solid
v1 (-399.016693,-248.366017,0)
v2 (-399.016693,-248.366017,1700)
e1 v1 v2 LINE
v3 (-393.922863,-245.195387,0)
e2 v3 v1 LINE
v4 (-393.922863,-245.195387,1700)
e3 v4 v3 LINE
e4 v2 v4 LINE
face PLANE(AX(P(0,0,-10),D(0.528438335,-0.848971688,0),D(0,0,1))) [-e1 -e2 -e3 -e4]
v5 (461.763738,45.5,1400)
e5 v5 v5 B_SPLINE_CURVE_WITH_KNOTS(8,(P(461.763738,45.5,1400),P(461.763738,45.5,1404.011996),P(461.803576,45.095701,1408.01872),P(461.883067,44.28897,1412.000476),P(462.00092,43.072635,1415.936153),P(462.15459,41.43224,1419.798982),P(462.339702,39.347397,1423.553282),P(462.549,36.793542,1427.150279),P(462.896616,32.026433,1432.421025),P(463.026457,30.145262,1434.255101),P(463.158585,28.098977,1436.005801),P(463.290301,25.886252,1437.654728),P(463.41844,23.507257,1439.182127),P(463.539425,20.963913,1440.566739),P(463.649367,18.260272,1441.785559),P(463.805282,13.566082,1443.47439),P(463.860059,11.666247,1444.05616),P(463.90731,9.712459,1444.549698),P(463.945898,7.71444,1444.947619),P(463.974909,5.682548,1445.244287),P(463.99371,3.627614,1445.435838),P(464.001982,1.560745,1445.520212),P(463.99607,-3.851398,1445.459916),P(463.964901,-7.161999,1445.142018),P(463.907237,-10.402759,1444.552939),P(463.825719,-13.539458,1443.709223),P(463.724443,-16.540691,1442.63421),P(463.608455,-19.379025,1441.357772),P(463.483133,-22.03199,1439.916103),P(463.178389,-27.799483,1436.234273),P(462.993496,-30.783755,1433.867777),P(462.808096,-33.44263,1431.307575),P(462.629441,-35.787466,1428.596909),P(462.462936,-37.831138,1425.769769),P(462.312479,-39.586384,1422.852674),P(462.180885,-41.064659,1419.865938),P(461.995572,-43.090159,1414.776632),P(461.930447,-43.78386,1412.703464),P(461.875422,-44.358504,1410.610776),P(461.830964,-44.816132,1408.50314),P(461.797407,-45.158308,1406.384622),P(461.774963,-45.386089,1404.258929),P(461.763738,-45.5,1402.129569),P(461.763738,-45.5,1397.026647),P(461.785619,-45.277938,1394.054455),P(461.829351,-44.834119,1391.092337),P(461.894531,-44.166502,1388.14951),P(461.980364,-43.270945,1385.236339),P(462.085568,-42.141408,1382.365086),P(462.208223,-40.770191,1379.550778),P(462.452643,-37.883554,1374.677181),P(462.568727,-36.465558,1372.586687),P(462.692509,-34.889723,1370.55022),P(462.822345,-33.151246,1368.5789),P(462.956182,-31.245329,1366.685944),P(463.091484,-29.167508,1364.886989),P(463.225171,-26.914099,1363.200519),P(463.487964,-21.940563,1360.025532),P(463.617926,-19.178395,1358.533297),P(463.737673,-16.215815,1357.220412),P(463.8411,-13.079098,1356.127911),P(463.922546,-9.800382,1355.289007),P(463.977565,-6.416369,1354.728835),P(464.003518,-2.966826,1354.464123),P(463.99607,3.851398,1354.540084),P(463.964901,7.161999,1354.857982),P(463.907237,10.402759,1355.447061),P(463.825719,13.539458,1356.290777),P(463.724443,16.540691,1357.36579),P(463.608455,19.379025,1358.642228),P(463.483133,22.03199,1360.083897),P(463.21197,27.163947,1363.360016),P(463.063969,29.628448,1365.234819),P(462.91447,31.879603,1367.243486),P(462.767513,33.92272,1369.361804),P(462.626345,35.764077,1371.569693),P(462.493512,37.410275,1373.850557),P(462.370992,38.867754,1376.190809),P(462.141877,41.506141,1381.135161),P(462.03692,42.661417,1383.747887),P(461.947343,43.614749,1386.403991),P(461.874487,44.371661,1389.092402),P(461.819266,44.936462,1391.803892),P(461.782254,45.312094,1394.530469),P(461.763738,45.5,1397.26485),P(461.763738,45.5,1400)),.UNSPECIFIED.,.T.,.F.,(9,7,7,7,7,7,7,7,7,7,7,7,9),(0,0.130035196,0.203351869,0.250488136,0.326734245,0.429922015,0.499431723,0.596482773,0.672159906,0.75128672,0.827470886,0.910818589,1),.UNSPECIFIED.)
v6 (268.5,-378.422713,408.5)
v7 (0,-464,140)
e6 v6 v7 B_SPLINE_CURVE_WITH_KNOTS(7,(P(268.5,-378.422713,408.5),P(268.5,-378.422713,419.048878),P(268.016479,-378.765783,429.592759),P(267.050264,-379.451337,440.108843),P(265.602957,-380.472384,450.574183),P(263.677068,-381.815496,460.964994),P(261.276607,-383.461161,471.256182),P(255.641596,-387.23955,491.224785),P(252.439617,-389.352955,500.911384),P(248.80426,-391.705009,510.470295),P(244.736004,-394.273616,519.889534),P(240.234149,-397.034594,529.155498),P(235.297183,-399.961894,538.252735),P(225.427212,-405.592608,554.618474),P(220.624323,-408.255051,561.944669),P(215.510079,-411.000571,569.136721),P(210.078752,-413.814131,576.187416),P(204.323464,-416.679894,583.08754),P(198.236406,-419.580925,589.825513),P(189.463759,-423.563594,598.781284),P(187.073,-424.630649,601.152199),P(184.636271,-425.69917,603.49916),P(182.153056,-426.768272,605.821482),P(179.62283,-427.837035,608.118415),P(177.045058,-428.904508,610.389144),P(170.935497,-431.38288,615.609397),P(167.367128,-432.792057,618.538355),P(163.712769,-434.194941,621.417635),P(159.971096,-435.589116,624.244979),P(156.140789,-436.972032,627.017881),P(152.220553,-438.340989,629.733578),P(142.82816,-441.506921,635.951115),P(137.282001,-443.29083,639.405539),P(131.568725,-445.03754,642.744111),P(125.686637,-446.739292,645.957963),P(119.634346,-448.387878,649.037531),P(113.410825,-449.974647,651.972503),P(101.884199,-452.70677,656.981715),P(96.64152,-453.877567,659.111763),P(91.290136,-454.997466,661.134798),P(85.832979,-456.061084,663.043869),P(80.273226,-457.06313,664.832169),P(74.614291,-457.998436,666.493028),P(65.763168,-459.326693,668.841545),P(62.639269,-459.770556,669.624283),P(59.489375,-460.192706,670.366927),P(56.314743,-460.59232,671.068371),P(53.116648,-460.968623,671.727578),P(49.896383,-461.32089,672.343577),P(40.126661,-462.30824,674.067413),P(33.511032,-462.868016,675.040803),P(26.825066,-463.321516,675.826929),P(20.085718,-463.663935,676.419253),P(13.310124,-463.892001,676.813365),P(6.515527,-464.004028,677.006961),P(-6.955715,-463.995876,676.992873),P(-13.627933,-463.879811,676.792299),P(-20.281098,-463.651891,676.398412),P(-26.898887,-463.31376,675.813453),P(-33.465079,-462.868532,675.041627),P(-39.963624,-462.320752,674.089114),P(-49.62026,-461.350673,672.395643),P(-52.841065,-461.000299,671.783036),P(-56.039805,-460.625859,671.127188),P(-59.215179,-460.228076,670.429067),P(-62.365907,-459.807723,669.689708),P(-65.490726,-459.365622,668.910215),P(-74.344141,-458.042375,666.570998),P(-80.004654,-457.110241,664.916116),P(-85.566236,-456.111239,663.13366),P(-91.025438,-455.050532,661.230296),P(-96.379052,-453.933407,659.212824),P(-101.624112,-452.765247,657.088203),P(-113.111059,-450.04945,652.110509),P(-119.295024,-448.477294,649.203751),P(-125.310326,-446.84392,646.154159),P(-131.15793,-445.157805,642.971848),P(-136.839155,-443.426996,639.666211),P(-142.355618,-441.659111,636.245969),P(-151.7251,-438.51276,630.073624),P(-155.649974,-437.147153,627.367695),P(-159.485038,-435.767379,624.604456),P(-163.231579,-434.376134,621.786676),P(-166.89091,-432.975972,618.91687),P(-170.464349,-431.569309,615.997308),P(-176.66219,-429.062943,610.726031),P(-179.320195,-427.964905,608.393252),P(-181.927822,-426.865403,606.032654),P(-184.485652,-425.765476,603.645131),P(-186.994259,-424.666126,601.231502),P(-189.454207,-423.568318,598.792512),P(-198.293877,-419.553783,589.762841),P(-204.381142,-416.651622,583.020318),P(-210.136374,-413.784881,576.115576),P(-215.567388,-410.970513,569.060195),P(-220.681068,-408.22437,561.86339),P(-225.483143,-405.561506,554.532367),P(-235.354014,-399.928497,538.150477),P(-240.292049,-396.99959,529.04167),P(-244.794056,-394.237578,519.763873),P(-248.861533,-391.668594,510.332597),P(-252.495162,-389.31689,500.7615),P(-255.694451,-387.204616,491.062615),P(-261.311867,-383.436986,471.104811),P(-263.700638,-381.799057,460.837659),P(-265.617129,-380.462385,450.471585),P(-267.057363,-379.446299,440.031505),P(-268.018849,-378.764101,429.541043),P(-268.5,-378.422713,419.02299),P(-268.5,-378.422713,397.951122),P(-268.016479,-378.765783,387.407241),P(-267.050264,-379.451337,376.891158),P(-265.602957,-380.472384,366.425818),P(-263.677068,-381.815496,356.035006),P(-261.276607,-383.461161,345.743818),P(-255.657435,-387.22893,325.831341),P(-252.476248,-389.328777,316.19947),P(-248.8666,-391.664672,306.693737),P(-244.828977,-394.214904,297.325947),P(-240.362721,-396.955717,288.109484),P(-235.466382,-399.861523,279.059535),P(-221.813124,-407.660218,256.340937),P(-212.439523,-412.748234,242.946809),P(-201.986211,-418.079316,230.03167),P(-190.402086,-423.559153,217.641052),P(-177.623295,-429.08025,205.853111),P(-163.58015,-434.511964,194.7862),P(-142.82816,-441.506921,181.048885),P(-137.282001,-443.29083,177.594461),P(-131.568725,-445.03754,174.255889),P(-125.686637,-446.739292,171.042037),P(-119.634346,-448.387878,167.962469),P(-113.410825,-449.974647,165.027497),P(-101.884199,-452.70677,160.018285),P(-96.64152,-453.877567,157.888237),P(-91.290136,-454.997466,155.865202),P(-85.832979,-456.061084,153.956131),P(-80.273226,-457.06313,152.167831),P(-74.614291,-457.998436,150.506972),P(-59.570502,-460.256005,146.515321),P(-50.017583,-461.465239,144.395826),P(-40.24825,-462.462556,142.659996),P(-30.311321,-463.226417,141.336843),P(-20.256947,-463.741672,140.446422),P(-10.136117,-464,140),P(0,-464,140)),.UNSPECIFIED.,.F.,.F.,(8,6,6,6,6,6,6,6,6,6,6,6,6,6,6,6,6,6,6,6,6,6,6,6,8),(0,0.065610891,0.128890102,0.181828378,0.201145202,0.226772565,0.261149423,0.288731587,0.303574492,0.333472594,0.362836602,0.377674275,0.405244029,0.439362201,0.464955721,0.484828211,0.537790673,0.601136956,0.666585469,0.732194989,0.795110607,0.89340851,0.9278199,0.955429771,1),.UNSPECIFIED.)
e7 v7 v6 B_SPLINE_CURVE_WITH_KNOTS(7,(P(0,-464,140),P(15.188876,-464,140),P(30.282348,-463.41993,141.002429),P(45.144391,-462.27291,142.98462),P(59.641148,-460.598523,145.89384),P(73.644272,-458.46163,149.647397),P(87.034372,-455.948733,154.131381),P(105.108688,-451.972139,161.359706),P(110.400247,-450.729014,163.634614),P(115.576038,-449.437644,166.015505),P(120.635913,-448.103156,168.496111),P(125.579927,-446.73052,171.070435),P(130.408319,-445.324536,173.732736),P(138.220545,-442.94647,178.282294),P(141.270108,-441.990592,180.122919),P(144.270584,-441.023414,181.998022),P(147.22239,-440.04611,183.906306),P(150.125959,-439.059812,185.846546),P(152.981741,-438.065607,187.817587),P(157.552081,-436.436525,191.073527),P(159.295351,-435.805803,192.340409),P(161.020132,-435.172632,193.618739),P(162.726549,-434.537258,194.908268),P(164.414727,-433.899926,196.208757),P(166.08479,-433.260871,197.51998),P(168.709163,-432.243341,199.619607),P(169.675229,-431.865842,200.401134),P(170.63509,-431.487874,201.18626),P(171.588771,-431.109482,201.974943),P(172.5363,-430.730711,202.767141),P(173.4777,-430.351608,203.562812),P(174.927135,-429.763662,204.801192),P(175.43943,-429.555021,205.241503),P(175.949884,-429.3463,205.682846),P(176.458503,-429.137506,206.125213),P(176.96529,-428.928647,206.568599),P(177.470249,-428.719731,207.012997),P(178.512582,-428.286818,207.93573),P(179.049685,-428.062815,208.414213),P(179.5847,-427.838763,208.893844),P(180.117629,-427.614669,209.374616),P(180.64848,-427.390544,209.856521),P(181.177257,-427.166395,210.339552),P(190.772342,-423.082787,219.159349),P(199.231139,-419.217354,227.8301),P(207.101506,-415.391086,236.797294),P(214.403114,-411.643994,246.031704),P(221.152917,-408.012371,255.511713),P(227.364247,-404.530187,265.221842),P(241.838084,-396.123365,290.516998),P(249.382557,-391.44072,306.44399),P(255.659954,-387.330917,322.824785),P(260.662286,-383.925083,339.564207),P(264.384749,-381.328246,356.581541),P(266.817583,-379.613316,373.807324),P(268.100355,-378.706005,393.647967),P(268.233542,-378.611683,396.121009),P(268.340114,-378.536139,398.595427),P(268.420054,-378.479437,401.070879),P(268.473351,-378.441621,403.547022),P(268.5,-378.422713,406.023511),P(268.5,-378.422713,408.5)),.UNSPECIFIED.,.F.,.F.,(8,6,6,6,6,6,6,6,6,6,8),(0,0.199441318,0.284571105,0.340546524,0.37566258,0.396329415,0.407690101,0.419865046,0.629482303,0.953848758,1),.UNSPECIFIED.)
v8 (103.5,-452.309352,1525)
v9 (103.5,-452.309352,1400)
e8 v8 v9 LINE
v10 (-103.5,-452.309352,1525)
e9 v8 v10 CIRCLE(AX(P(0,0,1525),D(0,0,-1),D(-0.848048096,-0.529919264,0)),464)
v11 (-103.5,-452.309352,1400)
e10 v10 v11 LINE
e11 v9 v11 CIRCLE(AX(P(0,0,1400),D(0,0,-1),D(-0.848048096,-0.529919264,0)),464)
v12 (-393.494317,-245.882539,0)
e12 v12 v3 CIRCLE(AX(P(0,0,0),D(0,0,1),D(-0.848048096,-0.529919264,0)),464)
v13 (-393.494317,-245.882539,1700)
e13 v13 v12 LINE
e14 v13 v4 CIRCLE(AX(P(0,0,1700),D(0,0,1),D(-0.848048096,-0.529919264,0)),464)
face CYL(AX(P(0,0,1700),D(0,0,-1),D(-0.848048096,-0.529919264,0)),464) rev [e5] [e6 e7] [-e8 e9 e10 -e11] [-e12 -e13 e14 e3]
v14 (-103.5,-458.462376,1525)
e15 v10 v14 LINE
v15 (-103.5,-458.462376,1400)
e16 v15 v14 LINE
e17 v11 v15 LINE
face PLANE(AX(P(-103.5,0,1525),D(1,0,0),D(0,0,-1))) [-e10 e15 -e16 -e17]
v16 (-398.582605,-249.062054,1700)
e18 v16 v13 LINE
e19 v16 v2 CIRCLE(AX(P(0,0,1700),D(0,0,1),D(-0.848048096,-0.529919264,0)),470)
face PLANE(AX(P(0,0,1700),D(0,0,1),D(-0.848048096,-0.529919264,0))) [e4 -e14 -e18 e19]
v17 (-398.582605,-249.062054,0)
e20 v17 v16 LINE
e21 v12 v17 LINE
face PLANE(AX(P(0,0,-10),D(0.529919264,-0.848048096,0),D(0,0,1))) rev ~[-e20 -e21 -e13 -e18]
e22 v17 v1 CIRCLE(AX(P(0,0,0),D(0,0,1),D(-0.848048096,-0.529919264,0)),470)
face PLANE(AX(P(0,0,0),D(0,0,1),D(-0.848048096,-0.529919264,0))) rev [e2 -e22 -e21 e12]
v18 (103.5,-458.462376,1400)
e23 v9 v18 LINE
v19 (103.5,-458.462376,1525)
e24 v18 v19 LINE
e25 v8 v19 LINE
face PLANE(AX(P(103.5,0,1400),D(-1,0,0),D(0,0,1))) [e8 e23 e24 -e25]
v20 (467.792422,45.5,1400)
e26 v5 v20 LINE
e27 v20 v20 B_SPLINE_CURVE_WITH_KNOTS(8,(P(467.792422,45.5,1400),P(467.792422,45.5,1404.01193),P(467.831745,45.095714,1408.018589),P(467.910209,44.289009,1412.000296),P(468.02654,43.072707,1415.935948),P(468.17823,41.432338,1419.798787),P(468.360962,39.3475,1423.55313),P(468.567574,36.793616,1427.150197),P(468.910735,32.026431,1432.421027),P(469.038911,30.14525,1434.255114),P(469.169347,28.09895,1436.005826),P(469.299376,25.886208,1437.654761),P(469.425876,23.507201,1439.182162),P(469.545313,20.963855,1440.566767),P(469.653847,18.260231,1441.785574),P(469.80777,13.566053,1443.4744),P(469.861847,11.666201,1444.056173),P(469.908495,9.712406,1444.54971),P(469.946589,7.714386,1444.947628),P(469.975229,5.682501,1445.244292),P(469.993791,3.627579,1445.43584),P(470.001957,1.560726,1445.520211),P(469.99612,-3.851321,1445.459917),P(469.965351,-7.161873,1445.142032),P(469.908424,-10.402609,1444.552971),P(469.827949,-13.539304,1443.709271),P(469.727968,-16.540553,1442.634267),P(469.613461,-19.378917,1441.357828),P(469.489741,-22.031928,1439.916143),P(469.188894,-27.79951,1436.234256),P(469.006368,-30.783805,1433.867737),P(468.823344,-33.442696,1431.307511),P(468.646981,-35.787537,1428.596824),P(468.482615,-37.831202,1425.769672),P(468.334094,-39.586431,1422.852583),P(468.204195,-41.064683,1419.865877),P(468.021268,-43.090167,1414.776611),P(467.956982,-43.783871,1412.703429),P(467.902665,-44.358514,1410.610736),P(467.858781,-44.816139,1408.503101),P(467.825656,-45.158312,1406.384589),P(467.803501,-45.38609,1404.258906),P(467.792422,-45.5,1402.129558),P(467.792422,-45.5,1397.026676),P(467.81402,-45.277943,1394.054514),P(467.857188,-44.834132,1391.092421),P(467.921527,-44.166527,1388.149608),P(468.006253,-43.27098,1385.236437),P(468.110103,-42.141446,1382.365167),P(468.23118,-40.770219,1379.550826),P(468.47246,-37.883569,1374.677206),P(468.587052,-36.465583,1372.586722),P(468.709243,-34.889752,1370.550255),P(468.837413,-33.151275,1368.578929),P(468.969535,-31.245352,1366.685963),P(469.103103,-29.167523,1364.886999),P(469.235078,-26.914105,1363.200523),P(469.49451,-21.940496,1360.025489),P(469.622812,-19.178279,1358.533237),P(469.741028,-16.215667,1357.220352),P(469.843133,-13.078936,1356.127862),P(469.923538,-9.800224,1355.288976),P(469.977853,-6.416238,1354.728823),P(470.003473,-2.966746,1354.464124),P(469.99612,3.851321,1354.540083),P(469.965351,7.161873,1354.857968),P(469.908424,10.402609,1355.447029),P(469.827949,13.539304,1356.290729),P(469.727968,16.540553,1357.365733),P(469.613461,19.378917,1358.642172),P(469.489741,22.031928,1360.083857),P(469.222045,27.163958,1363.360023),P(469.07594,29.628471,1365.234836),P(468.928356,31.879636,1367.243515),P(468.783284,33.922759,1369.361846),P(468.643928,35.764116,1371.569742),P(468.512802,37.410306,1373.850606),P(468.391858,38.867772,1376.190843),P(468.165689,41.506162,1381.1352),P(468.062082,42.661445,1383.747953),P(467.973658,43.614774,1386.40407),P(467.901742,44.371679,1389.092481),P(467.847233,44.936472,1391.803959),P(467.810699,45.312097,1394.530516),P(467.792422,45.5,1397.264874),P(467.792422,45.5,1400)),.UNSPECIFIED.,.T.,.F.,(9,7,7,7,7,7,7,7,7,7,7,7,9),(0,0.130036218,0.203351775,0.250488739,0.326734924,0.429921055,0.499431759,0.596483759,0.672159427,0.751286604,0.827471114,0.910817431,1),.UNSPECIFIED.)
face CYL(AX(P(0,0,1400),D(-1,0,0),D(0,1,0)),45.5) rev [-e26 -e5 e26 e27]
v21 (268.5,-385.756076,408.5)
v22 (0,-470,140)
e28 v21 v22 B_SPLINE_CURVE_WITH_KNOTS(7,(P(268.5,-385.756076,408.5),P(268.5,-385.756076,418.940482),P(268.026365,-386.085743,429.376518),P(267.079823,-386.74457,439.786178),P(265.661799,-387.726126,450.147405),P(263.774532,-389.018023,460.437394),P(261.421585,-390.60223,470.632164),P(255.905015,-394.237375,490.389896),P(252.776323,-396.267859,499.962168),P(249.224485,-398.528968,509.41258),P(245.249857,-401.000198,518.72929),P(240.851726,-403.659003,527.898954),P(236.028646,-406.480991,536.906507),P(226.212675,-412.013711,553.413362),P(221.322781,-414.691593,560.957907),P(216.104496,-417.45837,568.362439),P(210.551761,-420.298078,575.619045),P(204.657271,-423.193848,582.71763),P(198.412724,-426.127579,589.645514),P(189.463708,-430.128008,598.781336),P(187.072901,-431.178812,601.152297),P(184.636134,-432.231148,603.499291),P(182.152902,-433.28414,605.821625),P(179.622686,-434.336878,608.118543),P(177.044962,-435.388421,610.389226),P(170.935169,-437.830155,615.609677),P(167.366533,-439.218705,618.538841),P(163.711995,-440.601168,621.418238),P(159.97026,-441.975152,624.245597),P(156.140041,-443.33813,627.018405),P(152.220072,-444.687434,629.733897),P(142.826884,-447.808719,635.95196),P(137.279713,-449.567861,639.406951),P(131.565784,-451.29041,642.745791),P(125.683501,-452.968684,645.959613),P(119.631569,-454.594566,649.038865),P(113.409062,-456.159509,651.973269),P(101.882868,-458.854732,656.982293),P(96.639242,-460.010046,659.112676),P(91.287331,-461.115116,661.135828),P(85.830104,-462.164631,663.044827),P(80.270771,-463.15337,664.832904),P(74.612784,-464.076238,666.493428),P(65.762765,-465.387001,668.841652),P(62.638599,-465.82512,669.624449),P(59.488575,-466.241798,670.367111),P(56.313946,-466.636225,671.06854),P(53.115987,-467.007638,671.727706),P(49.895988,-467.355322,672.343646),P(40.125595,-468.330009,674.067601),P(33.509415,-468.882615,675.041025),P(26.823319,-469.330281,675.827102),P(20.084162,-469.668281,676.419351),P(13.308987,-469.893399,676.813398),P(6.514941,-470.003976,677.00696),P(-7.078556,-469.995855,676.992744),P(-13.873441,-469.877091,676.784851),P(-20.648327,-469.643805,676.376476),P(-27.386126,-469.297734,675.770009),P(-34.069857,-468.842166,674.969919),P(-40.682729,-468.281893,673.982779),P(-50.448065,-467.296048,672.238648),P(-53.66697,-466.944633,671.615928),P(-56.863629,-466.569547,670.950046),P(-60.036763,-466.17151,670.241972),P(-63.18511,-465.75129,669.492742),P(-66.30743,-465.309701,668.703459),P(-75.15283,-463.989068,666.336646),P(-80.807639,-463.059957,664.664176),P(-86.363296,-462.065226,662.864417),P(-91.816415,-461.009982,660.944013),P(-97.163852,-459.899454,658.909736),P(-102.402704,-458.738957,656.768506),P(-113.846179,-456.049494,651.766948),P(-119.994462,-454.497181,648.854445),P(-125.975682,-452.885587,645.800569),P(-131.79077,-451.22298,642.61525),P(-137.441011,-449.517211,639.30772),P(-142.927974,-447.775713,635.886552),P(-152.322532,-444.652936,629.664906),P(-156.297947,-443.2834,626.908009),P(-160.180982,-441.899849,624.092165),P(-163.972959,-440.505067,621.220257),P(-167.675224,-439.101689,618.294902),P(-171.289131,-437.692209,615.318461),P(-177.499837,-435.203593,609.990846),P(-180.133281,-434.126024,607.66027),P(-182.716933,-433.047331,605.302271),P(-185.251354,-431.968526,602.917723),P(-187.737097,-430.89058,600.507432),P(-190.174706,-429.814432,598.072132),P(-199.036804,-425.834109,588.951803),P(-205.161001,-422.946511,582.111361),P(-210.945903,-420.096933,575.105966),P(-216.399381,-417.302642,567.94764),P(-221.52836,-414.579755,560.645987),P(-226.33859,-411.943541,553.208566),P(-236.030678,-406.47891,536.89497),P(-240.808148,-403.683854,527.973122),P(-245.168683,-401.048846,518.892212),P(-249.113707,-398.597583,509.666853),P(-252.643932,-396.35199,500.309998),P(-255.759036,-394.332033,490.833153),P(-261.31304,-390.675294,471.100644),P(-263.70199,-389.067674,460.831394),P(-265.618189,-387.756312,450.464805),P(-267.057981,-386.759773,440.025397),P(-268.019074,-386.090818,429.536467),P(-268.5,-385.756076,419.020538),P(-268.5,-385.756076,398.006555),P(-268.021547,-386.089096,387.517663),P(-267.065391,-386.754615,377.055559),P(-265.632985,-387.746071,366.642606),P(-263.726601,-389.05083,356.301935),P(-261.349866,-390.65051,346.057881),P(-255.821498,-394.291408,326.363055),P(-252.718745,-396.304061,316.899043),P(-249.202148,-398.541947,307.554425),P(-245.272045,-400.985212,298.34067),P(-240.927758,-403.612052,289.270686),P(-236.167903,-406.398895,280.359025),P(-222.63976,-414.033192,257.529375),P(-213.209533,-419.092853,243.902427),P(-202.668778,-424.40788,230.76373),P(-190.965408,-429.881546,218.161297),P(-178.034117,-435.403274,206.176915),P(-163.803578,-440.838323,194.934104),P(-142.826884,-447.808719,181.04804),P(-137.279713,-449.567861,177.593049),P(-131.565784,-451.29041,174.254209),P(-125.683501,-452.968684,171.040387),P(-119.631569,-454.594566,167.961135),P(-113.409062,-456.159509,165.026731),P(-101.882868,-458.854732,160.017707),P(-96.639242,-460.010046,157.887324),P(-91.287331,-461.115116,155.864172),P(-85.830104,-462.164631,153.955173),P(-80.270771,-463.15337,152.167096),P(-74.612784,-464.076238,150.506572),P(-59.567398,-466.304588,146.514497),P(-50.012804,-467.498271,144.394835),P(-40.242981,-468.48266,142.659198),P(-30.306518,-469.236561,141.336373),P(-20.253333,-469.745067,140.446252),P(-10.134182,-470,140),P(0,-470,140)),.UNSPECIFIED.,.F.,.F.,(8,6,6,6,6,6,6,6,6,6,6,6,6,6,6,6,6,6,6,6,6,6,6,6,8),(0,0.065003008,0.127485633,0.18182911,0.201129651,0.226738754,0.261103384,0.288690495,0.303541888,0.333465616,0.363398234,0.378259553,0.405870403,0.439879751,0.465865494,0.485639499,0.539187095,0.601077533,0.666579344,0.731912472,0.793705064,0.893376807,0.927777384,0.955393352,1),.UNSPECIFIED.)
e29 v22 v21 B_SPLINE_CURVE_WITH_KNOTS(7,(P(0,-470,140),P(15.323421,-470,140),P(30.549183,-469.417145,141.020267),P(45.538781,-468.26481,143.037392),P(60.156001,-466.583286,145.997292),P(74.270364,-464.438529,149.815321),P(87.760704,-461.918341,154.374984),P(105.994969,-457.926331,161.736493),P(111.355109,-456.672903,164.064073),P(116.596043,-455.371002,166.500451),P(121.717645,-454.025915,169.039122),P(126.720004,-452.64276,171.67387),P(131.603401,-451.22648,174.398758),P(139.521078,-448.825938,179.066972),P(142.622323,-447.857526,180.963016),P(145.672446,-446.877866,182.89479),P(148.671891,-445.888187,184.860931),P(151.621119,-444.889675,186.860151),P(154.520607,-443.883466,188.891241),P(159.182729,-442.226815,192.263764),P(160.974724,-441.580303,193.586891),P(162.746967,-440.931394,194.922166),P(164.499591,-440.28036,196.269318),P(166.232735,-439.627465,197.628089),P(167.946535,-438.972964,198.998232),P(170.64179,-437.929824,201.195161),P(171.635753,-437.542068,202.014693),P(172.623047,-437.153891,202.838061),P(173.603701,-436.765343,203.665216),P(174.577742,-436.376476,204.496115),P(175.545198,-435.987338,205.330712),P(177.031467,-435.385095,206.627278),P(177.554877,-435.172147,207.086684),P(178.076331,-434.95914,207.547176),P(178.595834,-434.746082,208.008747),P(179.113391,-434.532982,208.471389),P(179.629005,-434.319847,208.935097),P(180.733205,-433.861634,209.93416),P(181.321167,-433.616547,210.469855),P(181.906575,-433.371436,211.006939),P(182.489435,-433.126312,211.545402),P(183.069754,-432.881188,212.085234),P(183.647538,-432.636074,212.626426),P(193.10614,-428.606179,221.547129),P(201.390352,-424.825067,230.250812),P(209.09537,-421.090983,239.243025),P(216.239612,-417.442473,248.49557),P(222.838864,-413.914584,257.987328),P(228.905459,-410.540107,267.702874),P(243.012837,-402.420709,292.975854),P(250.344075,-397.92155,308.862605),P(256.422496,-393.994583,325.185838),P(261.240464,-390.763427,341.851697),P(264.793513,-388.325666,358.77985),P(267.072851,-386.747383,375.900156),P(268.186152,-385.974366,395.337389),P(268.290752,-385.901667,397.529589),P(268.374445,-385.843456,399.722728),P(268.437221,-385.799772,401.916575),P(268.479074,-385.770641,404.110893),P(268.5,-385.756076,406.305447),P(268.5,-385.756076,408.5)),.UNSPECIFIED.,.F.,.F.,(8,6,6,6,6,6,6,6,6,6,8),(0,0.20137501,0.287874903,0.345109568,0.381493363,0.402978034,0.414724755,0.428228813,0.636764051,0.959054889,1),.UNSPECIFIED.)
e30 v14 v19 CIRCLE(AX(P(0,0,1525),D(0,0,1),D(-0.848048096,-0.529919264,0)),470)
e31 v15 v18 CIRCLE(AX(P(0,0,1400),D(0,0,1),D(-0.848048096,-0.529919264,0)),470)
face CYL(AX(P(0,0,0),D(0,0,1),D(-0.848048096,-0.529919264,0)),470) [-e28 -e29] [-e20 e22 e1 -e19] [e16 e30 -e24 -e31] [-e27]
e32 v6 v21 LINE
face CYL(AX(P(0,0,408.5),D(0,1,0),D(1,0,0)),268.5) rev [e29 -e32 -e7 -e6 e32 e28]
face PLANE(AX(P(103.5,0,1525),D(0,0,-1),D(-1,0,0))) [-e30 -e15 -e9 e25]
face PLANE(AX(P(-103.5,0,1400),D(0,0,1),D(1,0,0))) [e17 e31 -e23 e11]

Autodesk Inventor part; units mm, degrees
sketch "Sketch13" plane through (0, 0, 0) normal (0, 0, 1) x (1, 0, 0)
  circle A0 centre (0, 0) radius 470 construction
  line L0 (0, 0) -> (0, -470)
  line L1 (0, 0) -> (-398.5826, -249.0621)
  line L2 (0, 0) -> (470, 0)
  line L3 (0, 0) -> (0, -470)
  line L4 (0, 0) -> (0, -470)
  line L5 (0, 0) -> (-418.7731, -213.3755)
  arc A1 (-398.5826, -249.0621) -> (0, -470) centre (0, 0) ccw
  dimension "d53" = 940
  dimension "d54" = 58
  dimension "d55" = 0
  dimension "d56" = 0
  dimension "d57" = 270
  dimension "d58" = 63
ref_plane "WeldJoint" through (0, 0, -10) normal (0.5299, -0.848, 0) x (0, 0, 1)
ref_plane "Outer" through (0, 0, -10) normal (0.454, -0.891, 0) x (0, 0, 1)
ref_plane "Clock_Feeder" through (0, 0, -10) normal (0, 1, 0) x (0, 0, 1)
ref_plane "Charging" through (0, 0, -10) normal (1, 0, 0) x (0, 0, 1)
ref_plane "Accsess" through (0, 0, -10) normal (1, 0, 0) x (0, 0, 1)
sketch "Sketch14" plane through (0, 0, -10) normal (0.5299, -0.848, 0) x (0, 0, 1)
  line L0 (1710, 464) -> (10, 464)
  line L1 (10, 464) -> (10, 470)
  line L2 (10, 470) -> (1710, 470)
  line L3 (1710, 470) -> (1710, 464)
  line L4 (10, 0) -> (825.0673, 0)
  point P0 (10, 467)
  dimension "d59" = 1700
  dimension "d60" = 6
  dimension "d61" = 940
revolve "Revolution2" add sketch "Sketch14" angle 359.9 about axis through (0, 0, 0) along (0, 0, 1)
sketch "Sketch AnglePlane_Feeder" plane through (0, 0, -10) normal (0, 1, 0) x (0, 0, 1)
  line L0 (10, -470) -> (10, 470) projected
  line L1 (10, 0) -> (1410, 0)
  line L2 (1410, 0) -> (1410, 470)
  line L3 (1410, 470) -> (10, 470)
  line L4 (10, 470) -> (10, 0)
  point P0 (10, -398.5826)
  point P1 (10, -399.0167)
  dimension "d63" = 940
  dimension "d64" = 90
  dimension "frd_hght" = 1400
ref_plane "AnglePlane_Feeder" through (0, 0, 1400) normal (1, 0, 0) x (0, 1, 0)
sketch "Sketch16" plane through (0, 0, 1400) normal (1, 0, 0) x (0, 1, 0)
  circle A0 centre (0, 0) radius 45.5
  point P0 (0, -1400)
  point P1 (0, 0)
  point P2 (0, 0)
  point P3 (0, 0)
  dimension "d66" = 91
extrude "Extrusion7" cut sketch "Sketch16" along normal through all
ref_plane "Work Plane16" through (0, 0, 0) normal (0, -1, 0) x (1, 0, 0)
sketch "Sketch17" plane through (0, 0, 0) normal (0, -1, 0) x (1, 0, 0)
  circle A0 centre (0, 408.5) radius 268.5
  line L0 (0, 140) -> (-495.5727, 140)
  point P0 (0, 0)
  dimension "d69" = 537
  dimension "d71" = 140
extrude "Extrusion8" cut sketch "Sketch17" along normal through all
sketch "Sketch19" plane through (0, 0, -10) normal (1, 0, 0) x (0, 0, 1)
  line L0 (10, 0) -> (1410, 0)
  line L1 (1410, 0) -> (1410, 470)
  line L2 (1410, 470) -> (10, 470)
  line L3 (10, 470) -> (10, 0)
  dimension "d74" = 1400
  dimension "d76" = 940
  dimension "d77" = 90
ref_plane "Work Plane18" through (0, 0, 1400) normal (0, -1, 0) x (1, 0, 0)
sketch "Sketch20" plane through (0, 0, 1400) normal (0, -1, 0) x (1, 0, 0)
  line L0 (-103.5, 0) -> (103.5, 0)
  line L1 (103.5, 0) -> (103.5, 125)
  line L2 (103.5, 125) -> (-103.5, 125)
  line L3 (-103.5, 125) -> (-103.5, 0)
  point P0 (0, -1400)
  point P1 (0, 0)
  point P2 (0, 0)
  point P3 (0, 0)
  point P4 (0, 0)
  dimension "d78" = 207
  dimension "d79" = 125
extrude "Extrusion9" cut sketch "Sketch20" along normal through all
equation "\"BendRadius\" = Thickness"
equation "\"BendReliefWidth\" = Thickness"
equation "\"BendReliefDepth\" = 0.5 * Thickness"
equation "\"CornerReliefSize\" = 4 * Thickness"
equation "\"MinimumRemnant\" = 2 * Thickness"
equation "\"TransitionRadius\" = BendRadius"
equation "\"JacobiRadiusSize\" = BendRadius"
equation "\"GapSize\" = Thickness"
equation "\"Feeder_horisont_angle\" = 0"
equation "\"Hatch_Accsess_diameter\" = 535"
equation "\"Clock_Accsess_angle\" = 0"
equation "\"Clock_Charging_agnle\" = 0"
equation "\"Clock_Feeder_angle\" = 270deg"
equation "\"Clock_Outer_angle\" = 63deg"
equation "\"Clock_WeldJoint_angle\" = 58deg"
equation "\"Thickness\" = 6"
properties part number "PRS 940-10 main Shell D 940" material "Steel"
